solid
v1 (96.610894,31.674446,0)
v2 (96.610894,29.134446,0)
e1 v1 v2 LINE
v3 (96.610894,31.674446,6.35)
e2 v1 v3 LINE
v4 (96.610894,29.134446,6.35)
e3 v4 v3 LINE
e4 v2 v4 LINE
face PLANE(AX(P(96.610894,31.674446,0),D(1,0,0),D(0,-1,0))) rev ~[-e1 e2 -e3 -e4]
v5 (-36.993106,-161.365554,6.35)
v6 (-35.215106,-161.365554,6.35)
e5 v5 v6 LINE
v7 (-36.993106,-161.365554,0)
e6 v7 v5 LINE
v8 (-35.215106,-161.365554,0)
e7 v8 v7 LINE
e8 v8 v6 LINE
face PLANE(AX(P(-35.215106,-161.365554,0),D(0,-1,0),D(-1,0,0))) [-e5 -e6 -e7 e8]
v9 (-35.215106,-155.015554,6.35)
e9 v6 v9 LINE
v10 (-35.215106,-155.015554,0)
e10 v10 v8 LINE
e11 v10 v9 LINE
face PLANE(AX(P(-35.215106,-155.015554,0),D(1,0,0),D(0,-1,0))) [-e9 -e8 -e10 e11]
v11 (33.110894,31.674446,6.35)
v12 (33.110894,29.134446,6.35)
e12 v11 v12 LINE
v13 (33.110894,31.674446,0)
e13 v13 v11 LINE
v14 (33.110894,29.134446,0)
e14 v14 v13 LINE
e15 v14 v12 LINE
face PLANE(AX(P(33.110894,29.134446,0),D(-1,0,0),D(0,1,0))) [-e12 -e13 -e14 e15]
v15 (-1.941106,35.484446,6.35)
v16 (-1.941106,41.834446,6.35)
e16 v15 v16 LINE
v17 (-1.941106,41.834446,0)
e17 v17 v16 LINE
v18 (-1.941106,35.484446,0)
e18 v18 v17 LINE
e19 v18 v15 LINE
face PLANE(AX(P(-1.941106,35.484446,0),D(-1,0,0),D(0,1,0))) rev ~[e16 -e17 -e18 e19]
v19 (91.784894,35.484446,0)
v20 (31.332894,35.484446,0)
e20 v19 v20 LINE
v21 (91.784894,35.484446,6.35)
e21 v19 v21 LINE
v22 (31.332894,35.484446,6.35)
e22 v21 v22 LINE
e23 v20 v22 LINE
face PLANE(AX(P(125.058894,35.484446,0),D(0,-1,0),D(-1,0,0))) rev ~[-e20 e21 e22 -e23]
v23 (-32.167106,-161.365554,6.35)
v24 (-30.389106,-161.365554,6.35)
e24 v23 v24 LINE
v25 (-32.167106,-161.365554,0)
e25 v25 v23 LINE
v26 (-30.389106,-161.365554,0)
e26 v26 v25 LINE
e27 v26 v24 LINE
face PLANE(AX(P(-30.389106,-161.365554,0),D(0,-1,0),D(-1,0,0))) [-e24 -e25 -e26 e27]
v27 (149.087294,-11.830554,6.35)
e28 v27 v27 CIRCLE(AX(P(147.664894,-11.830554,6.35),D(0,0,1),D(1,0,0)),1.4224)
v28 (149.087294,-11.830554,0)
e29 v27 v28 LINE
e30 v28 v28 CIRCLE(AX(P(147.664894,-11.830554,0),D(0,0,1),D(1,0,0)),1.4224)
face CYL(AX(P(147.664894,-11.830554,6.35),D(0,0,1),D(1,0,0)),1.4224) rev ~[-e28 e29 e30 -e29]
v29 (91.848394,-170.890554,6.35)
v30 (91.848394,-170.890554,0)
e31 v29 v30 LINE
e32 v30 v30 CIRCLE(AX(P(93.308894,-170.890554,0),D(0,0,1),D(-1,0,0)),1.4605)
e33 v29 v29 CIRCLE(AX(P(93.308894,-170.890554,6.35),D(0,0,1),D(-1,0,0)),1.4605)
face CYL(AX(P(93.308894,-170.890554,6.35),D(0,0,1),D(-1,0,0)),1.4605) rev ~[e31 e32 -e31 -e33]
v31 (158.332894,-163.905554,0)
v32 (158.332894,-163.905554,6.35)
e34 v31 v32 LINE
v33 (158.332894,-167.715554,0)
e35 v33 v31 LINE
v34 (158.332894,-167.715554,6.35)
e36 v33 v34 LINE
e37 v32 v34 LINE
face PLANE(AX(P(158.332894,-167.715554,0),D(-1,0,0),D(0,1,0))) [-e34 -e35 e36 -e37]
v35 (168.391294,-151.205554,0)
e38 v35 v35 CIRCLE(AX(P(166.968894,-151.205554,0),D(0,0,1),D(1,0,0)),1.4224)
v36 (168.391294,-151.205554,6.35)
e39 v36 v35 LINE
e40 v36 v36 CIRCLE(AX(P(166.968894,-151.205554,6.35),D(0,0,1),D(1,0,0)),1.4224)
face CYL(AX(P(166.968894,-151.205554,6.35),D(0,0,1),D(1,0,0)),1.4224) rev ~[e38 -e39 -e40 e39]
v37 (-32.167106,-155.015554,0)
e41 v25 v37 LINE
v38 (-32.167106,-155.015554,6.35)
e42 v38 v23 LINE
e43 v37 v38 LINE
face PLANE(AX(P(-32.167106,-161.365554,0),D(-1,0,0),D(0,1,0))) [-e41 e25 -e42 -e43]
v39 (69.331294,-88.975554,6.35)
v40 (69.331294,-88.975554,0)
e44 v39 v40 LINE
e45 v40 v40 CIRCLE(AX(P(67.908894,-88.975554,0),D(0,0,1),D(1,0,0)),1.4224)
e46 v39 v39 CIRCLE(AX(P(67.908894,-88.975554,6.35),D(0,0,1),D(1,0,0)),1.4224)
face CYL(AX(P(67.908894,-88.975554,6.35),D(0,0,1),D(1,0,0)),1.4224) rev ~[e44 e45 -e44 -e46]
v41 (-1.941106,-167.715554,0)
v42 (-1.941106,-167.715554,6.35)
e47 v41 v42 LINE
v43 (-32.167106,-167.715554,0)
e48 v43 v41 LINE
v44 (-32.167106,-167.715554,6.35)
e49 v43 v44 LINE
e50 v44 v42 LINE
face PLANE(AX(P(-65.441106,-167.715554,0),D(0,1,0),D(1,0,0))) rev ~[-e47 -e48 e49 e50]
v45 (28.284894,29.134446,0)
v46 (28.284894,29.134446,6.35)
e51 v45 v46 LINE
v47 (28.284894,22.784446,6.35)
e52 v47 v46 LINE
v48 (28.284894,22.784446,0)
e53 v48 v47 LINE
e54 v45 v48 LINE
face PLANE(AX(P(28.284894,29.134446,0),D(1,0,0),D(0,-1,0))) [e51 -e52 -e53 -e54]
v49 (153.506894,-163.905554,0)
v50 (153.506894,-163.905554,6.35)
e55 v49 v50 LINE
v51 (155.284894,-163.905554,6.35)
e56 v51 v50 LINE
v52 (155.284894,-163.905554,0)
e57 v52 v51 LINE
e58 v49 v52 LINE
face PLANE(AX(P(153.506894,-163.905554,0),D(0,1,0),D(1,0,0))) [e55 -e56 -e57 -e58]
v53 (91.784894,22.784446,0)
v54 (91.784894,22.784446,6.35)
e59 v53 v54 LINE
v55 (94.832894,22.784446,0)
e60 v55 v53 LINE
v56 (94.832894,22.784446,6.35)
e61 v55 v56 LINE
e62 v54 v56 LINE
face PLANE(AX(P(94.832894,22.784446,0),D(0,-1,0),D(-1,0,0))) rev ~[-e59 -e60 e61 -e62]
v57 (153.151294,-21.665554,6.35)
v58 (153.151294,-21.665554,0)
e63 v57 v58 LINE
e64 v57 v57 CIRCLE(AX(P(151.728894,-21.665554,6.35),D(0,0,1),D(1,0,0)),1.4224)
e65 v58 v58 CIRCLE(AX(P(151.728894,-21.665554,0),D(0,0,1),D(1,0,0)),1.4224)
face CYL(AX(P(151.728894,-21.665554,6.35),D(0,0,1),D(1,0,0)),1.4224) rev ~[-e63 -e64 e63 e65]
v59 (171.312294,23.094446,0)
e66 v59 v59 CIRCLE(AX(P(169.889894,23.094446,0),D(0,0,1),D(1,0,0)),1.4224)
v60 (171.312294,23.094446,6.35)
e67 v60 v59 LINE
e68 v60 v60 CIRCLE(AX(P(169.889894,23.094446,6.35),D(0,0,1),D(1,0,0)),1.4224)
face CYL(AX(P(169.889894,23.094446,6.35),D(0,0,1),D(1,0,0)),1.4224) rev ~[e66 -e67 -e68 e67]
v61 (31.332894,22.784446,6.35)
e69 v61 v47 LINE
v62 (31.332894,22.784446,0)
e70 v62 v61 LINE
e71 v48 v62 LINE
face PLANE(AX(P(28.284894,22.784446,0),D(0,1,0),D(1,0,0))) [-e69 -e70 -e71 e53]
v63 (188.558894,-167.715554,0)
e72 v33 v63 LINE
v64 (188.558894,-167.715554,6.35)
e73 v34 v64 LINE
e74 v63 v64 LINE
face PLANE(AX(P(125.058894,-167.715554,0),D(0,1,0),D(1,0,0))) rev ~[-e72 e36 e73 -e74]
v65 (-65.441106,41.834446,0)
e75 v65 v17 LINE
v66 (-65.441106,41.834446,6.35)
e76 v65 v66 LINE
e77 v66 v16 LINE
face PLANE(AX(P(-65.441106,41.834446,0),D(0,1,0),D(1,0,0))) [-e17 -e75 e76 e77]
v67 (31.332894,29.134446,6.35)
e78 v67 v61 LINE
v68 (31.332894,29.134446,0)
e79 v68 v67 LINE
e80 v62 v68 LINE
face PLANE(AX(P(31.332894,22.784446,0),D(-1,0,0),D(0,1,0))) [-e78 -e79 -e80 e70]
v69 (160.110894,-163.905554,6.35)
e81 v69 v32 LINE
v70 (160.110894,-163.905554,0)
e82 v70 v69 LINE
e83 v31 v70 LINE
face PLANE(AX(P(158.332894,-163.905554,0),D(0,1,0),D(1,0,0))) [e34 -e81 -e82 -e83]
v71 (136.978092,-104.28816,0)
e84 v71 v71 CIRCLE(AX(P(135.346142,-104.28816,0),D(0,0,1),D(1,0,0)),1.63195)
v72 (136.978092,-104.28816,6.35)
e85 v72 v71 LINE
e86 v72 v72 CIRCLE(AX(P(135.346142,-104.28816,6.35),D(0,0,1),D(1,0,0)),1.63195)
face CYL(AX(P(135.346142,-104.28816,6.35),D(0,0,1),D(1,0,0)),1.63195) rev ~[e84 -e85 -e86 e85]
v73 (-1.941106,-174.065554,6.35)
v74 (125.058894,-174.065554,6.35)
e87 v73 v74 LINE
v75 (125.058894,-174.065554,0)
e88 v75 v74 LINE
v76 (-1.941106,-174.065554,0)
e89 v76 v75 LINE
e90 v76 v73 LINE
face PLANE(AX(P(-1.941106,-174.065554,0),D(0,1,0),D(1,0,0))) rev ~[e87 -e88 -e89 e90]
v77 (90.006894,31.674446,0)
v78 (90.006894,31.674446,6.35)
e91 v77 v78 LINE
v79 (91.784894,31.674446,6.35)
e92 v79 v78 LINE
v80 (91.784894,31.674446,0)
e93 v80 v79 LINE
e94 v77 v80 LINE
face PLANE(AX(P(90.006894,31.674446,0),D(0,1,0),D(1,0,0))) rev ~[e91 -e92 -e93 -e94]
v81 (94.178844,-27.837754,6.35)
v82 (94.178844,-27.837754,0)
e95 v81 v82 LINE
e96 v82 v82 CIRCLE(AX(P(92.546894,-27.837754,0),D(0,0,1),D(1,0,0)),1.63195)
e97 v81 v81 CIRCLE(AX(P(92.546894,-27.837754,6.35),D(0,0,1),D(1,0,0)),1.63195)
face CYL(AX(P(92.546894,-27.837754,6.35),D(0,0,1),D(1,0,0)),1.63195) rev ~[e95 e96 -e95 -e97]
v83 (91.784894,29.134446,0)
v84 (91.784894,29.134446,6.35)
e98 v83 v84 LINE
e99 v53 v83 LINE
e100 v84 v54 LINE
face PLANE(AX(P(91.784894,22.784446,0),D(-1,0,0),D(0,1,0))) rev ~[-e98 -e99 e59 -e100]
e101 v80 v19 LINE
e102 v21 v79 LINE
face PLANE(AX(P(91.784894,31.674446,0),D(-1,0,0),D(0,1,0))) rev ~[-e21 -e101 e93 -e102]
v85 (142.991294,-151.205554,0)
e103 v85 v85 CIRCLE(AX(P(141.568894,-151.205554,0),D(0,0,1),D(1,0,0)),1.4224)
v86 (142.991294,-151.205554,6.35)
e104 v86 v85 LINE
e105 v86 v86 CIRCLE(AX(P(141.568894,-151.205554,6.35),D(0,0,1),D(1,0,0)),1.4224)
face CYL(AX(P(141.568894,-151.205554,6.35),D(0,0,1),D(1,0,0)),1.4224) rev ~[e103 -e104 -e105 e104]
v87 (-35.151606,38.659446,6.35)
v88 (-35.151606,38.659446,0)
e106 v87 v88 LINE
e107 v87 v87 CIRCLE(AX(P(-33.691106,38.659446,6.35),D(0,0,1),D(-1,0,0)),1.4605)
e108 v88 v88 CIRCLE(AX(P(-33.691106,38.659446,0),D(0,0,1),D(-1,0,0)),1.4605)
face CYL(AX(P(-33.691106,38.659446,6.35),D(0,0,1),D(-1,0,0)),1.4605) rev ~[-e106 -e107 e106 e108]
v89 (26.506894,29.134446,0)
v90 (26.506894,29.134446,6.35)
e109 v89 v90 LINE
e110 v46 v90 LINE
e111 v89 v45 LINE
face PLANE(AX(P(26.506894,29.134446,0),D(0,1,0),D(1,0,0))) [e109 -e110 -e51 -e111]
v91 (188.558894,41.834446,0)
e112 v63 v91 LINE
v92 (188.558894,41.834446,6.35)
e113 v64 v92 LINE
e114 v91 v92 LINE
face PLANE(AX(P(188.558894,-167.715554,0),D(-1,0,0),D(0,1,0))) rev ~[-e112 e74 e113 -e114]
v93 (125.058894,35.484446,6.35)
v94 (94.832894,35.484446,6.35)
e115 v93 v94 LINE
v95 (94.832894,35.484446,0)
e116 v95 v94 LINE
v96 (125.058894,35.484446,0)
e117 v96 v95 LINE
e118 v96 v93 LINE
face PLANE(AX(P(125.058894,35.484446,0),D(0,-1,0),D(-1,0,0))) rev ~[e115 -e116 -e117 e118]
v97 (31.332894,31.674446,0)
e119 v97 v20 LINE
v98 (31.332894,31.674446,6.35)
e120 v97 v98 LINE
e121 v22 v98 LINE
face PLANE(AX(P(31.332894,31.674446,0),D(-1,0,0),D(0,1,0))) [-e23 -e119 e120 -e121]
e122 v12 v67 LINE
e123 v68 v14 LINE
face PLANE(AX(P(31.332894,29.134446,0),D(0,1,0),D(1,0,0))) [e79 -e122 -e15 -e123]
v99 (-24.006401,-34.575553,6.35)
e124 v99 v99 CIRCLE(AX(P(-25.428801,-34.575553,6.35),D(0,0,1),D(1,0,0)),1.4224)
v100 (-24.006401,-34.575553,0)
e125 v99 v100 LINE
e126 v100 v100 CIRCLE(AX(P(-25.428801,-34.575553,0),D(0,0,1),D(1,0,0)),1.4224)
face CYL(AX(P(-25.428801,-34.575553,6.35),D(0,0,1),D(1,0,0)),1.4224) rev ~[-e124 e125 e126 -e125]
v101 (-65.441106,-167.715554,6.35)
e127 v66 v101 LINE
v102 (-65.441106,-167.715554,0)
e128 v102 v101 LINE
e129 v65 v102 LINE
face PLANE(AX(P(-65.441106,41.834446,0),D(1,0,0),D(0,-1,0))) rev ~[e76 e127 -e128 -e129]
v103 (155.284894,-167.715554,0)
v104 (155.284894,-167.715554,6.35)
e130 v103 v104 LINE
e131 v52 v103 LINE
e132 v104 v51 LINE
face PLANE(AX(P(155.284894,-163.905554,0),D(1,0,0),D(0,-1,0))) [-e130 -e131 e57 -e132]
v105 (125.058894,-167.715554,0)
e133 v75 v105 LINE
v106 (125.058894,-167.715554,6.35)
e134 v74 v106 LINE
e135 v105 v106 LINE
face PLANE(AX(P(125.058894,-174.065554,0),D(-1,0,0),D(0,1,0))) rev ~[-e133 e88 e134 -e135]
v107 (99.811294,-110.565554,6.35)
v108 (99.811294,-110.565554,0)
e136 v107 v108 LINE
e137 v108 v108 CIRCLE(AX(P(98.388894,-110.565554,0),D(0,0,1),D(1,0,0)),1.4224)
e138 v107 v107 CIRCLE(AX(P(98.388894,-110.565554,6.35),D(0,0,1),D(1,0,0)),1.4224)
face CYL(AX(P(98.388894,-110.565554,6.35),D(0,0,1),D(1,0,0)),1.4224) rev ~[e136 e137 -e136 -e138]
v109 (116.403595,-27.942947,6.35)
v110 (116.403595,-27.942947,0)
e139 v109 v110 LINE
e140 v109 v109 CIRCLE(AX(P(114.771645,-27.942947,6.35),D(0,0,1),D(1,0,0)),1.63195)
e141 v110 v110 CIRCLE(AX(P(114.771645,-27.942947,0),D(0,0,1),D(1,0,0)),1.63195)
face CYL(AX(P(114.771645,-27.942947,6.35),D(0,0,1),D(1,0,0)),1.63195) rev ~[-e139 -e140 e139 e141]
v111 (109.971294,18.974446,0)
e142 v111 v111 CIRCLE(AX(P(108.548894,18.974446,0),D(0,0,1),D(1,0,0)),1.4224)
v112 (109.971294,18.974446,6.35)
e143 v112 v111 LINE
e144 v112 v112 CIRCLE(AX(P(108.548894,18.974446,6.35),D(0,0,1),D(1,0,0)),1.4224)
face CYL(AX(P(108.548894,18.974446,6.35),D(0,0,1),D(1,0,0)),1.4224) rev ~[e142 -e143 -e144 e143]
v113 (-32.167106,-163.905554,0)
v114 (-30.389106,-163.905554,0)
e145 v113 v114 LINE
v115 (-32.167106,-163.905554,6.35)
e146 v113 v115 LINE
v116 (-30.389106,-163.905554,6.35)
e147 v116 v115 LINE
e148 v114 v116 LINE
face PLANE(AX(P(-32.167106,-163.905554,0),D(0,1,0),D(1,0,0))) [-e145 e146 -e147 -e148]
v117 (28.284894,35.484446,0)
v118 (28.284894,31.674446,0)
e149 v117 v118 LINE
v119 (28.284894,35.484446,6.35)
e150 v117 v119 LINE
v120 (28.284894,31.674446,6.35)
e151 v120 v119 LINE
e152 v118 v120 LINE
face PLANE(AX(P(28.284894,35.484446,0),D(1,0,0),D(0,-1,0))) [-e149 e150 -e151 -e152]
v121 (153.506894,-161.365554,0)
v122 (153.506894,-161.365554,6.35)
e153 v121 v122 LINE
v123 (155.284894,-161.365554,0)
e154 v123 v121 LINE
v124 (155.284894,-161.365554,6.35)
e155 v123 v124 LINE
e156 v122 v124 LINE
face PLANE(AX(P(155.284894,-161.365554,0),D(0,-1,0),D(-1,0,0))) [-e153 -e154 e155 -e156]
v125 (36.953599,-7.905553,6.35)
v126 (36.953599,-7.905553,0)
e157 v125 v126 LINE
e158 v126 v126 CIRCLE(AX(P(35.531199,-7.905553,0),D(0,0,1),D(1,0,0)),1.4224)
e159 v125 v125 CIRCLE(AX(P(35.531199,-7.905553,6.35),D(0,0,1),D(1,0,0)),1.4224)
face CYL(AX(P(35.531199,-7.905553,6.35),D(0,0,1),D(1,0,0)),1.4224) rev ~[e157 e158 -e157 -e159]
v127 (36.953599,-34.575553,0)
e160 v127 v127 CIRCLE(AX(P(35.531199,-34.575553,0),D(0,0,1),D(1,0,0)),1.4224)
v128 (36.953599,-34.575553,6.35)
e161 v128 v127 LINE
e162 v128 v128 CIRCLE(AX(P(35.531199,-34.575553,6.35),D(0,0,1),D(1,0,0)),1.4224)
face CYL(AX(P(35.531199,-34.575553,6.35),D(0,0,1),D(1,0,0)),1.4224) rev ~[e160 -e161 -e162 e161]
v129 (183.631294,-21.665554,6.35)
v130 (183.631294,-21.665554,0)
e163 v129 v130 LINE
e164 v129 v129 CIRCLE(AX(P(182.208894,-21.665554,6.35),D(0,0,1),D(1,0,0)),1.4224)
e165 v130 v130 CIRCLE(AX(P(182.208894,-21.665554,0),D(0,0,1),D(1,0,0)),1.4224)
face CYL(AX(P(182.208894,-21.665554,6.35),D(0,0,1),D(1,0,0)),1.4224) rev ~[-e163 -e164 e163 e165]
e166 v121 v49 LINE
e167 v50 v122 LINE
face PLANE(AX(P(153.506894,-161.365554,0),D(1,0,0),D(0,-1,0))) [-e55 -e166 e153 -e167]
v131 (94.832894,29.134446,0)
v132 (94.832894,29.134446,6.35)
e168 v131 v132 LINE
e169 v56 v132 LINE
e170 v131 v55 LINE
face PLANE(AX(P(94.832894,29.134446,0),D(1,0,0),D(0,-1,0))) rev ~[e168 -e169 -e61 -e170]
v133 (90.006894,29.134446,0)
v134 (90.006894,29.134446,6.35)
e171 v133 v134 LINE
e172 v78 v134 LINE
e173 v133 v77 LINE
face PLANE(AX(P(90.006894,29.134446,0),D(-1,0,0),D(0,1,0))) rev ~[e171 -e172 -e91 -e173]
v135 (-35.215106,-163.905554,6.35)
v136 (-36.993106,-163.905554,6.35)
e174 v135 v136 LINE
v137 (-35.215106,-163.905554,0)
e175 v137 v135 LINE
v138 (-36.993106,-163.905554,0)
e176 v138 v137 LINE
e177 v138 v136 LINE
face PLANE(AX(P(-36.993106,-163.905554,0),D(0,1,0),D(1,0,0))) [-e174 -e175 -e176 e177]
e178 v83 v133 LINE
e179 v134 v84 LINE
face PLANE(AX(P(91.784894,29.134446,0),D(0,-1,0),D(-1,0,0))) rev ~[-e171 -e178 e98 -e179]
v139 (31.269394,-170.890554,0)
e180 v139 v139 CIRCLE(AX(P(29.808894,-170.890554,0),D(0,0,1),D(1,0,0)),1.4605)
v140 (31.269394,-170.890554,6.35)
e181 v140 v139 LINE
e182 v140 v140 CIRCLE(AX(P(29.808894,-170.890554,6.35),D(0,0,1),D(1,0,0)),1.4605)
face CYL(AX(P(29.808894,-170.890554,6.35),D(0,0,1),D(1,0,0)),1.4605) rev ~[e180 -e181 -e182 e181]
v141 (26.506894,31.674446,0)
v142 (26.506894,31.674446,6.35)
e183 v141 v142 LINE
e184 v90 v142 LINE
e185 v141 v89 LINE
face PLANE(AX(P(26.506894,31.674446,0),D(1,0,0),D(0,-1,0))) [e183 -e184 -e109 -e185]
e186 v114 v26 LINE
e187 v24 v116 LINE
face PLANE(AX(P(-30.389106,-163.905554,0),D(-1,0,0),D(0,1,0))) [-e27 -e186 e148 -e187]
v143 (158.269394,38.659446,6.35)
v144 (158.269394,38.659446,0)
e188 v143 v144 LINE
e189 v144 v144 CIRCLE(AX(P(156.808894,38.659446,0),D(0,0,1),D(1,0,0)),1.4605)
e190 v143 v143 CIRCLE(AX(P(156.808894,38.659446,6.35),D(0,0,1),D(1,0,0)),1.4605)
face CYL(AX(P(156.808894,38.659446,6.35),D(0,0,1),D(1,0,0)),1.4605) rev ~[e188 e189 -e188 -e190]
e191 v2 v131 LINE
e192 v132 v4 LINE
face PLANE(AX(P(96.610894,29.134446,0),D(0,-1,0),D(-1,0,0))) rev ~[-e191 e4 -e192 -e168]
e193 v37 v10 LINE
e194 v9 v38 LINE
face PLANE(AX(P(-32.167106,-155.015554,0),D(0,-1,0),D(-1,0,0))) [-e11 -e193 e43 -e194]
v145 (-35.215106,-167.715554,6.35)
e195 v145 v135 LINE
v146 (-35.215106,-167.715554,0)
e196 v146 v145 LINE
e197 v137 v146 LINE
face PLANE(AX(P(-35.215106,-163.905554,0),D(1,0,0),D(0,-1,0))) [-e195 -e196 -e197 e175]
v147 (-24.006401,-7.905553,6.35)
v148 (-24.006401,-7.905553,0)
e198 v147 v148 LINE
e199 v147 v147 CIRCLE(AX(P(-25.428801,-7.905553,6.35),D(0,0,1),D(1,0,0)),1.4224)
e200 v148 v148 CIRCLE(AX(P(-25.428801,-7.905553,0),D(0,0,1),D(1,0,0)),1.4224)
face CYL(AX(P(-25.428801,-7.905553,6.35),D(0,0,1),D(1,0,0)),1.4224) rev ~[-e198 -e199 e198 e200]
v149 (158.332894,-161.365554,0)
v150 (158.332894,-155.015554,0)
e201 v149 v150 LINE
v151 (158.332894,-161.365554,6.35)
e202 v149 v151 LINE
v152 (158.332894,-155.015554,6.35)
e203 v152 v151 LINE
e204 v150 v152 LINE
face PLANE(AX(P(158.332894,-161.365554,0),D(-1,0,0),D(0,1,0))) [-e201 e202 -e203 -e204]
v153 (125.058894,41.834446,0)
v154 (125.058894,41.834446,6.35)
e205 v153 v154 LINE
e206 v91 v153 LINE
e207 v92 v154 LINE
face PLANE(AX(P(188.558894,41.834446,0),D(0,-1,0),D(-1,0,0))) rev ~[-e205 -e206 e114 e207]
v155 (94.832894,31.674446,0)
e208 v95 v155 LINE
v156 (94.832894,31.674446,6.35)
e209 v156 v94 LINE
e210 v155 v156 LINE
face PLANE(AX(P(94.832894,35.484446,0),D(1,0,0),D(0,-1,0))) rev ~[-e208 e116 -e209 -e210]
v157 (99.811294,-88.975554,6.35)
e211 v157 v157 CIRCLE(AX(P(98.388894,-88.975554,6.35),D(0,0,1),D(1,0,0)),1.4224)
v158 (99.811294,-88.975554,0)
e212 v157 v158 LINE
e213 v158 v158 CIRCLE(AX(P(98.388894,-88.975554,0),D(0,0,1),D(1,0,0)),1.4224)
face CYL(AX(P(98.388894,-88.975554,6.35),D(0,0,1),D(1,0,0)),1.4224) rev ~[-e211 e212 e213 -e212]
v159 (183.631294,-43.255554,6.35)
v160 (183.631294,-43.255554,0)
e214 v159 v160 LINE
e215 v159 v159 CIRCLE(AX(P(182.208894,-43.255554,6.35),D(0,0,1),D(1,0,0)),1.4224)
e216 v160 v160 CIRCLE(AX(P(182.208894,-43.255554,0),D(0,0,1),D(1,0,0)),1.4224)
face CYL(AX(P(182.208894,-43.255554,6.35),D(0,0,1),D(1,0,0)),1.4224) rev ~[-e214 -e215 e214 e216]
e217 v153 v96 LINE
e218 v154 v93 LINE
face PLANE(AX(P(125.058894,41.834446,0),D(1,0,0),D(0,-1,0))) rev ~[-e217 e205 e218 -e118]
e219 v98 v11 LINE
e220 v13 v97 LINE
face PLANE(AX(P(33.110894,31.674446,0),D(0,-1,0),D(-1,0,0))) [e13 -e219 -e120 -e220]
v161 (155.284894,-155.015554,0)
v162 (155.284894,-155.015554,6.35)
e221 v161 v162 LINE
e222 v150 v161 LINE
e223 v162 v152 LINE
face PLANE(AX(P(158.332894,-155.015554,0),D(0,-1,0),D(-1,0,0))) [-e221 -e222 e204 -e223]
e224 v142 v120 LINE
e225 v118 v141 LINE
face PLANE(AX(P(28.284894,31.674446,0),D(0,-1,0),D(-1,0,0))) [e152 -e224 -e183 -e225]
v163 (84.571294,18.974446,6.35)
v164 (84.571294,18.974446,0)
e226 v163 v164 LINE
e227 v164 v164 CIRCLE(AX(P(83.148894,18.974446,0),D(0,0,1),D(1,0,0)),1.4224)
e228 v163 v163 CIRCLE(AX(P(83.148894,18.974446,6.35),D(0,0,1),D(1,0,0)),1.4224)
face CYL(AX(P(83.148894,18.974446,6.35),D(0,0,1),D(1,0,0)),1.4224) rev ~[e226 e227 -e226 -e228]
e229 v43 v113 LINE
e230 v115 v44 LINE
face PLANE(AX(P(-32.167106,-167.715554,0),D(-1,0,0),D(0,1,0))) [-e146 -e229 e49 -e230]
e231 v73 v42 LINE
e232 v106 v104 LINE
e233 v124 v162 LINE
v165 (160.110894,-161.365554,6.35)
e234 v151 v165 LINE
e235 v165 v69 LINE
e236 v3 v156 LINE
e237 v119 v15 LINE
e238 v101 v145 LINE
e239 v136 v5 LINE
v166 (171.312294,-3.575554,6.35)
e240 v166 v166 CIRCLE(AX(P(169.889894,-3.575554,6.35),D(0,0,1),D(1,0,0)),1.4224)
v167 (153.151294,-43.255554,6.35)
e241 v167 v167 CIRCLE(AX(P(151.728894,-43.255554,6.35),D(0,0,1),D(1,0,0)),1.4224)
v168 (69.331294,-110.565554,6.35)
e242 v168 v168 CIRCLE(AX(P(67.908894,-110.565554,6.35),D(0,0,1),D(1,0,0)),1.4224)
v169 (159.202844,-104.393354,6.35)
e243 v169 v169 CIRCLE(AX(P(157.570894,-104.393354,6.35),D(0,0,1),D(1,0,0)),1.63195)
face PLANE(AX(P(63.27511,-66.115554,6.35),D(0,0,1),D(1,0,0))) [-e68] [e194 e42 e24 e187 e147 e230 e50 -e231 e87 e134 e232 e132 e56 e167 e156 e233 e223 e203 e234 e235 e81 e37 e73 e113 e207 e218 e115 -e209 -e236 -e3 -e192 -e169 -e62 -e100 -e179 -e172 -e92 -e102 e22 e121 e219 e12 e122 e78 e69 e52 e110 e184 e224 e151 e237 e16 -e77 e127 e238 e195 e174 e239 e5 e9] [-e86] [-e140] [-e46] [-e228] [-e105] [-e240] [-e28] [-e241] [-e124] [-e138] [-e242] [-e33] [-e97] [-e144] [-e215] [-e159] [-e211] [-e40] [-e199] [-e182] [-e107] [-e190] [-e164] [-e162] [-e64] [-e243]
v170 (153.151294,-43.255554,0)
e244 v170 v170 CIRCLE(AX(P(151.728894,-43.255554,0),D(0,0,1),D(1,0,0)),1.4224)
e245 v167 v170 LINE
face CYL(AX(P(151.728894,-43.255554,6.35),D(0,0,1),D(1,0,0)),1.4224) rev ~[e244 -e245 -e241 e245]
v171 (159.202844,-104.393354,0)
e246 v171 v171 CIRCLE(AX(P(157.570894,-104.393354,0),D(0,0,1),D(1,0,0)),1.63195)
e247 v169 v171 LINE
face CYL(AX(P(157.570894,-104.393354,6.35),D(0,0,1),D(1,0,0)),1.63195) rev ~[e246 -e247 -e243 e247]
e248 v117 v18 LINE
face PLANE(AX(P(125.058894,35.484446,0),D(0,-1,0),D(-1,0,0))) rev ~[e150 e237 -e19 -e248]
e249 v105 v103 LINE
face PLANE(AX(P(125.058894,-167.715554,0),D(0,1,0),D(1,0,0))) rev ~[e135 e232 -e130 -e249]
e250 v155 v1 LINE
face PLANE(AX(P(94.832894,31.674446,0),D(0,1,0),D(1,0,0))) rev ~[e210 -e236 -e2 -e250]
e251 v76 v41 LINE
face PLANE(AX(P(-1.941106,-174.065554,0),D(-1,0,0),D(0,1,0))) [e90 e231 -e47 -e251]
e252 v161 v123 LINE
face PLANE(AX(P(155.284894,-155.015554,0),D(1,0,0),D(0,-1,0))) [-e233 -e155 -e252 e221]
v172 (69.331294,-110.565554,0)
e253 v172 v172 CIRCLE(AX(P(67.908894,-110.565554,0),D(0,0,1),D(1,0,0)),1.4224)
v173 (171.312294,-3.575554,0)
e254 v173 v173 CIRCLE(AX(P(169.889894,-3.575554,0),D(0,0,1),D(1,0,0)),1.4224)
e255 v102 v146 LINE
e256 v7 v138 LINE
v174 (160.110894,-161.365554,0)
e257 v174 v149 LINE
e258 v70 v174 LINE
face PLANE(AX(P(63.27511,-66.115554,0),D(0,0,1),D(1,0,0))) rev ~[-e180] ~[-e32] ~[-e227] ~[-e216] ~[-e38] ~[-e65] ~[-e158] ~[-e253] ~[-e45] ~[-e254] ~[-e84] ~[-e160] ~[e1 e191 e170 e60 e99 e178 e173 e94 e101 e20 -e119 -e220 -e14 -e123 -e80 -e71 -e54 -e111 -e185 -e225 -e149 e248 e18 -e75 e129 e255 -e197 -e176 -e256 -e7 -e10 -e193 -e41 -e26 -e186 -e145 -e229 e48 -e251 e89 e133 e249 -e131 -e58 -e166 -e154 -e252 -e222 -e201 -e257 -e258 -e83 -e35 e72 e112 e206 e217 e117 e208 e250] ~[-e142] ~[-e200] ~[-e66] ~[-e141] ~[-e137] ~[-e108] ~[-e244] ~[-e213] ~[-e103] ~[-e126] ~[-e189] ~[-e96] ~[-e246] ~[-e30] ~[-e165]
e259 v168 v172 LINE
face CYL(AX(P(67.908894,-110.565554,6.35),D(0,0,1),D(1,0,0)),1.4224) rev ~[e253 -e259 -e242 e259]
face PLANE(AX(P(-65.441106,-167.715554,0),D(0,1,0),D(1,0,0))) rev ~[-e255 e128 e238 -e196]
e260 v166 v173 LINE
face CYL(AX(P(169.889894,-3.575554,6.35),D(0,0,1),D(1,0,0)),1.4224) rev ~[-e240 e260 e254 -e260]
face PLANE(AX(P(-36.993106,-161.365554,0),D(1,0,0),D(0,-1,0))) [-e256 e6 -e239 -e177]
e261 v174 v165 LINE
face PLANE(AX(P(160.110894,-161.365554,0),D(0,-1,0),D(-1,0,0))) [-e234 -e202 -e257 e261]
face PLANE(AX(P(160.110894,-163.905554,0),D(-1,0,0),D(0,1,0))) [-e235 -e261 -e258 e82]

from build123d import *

# Parameters (mm, degrees)
SKETCH1_W           = 63.5
SKETCH1_H           = 6.35
BOSS_EXTRUDE1_DEPTH = 6.35
SKETCH7_R           = 1.4224
SKETCH7_R_2         = 1.63195
CUT_EXTRUDE4_DEPTH  = 257.697479146
SKETCH3_R           = 1.4605
CUT_EXTRUDE5_DEPTH  = 257.697479146
CUT_EXTRUDE6_DEPTH  = 257.697479146
SKETCH10_R          = 1.4224
CUT_EXTRUDE7_DEPTH  = 257.697479146
SKETCH11_R          = 1.4224
CUT_EXTRUDE8_DEPTH  = 257.697479146


with BuildPart() as part:
    # Sketch1 → Boss-Extrude1 (new body)
    with BuildSketch(Plane.XY):
        Polygon((-1.941106456, 35.484446355), (-65.441106456, 35.484446355), (-65.441106456, -167.715553645), (-1.941106456, -167.715553645), (61.558893544, -167.715553645), (61.558893544, -174.065553645), (125.058893544, -174.065553645), (125.058893544, -167.715553645), (188.558893544, -167.715553645), (188.558893544, 41.834446355), (125.058893544, 41.834446355), (125.058893544, 35.484446355), align=None)
        with Locations((-33.691106456, 38.659446355)):
            Rectangle(SKETCH1_W, SKETCH1_H)
        with Locations((29.808893544, -170.890553645)):
            Rectangle(SKETCH1_W, SKETCH1_H)
    extrude(amount=BOSS_EXTRUDE1_DEPTH)

    # Sketch7 → Cut-Extrude4 (cut, through all)
    with BuildSketch(Plane.XY.offset(6.35)):
        with Locations((108.548893544, 18.974446355)):
            Circle(SKETCH7_R)
        with Locations((83.148893544, 18.974446355)):
            Circle(SKETCH7_R)
        with Locations((92.546893544, -27.837753645)):
            Circle(SKETCH7_R_2)
        with Locations((114.771644595, -27.942947347)):
            Circle(SKETCH7_R_2)
        with Locations((67.908893544, -88.975553645)):
            Circle(SKETCH7_R)
        with Locations((98.388893544, -88.975553645)):
            Circle(SKETCH7_R)
        with Locations((98.388893544, -110.565553645)):
            Circle(SKETCH7_R)
        with Locations((67.908893544, -110.565553645)):
            Circle(SKETCH7_R)
        with Locations((141.568893544, -151.205553645)):
            Circle(SKETCH7_R)
        with Locations((166.968893544, -151.205553645)):
            Circle(SKETCH7_R)
        with Locations((135.346142493, -104.288159943)):
            Circle(SKETCH7_R_2)
        with Locations((157.570893544, -104.393353645)):
            Circle(SKETCH7_R_2)
        with Locations((151.728893544, -43.255553645)):
            Circle(SKETCH7_R)
        with Locations((151.728893544, -21.665553645)):
            Circle(SKETCH7_R)
        with Locations((182.208893544, -43.255553645)):
            Circle(SKETCH7_R)
        with Locations((182.208893544, -21.665553645)):
            Circle(SKETCH7_R)
    extrude(amount=-CUT_EXTRUDE4_DEPTH, mode=Mode.SUBTRACT)

    # Sketch3 → Cut-Extrude5 (cut, through all)
    with BuildSketch(Plane.XY.offset(6.35)):
        with Locations((156.808893544, 38.659446355)):
            Circle(SKETCH3_R)
        with Locations((29.808893544, -170.890553645)):
            Circle(SKETCH3_R)
        with Locations(Location((93.308893544, -170.890553645, 0), (0, 0, 180))):
            Circle(SKETCH3_R)
        with Locations(Location((-33.691106456, 38.659446355, 0), (0, 0, 180))):
            Circle(SKETCH3_R)
    extrude(amount=-CUT_EXTRUDE5_DEPTH, mode=Mode.SUBTRACT)

    # Sketch8 → Cut-Extrude6 (cut, through all)
    with BuildSketch(Plane(origin=(0, 0, 0), x_dir=(-1, 0, 0), z_dir=(0, 0, -1))):
        Polygon((-91.784893544, 35.484446355), (-94.832893544, 35.484446355), (-94.832893544, 31.674446355), (-96.610893544, 31.674446355), (-96.610893544, 29.134446355), (-94.832893544, 29.134446355), (-94.832893544, 22.784446355), (-91.784893544, 22.784446355), (-91.784893544, 29.134446355), (-90.006893544, 29.134446355), (-90.006893544, 31.674446355), (-91.784893544, 31.674446355), align=None)
        Polygon((-155.284893544, -167.715553645), (-158.332893544, -167.715553645), (-158.332893544, -163.905553645), (-160.110893544, -163.905553645), (-160.110893544, -161.365553645), (-158.332893544, -161.365553645), (-158.332893544, -155.015553645), (-155.284893544, -155.015553645), (-155.284893544, -161.365553645), (-153.506893544, -161.365553645), (-153.506893544, -163.905553645), (-155.284893544, -163.905553645), align=None)
        Polygon((-31.332893544, 35.484446355), (-28.284893544, 35.484446355), (-28.284893544, 31.674446355), (-26.506893544, 31.674446355), (-26.506893544, 29.134446355), (-28.284893544, 29.134446355), (-28.284893544, 22.784446355), (-31.332893544, 22.784446355), (-31.332893544, 29.134446355), (-33.110893544, 29.134446355), (-33.110893544, 31.674446355), (-31.332893544, 31.674446355), align=None)
        Polygon((32.167106456, -167.715553645), (32.167106456, -163.905553645), (30.389106456, -163.905553645), (30.389106456, -161.365553645), (32.167106456, -161.365553645), (32.167106456, -155.015553645), (35.215106456, -155.015553645), (35.215106456, -161.365553645), (36.993106456, -161.365553645), (36.993106456, -163.905553645), (35.215106456, -163.905553645), (35.215106456, -167.715553645), align=None)
    extrude(amount=-CUT_EXTRUDE6_DEPTH, mode=Mode.SUBTRACT)

    # Sketch10 → Cut-Extrude7 (cut, through all)
    with BuildSketch(Plane.XY.offset(6.35)):
        with Locations((169.889893544, -3.575553701)):
            Circle(SKETCH10_R)
        with Locations((169.889893544, 23.094446299)):
            Circle(SKETCH10_R)
        with Locations((147.664893544, -11.830553701)):
            Circle(SKETCH10_R)
    extrude(amount=-CUT_EXTRUDE7_DEPTH, mode=Mode.SUBTRACT)

    # Sketch11 → Cut-Extrude8 (cut, through all)
    with BuildSketch(Plane.XY.offset(6.35)):
        with Locations((-25.428800612, -7.905553469)):
            Circle(SKETCH11_R)
        with Locations((-25.428800612, -34.575553469)):
            Circle(SKETCH11_R)
        with Locations((35.531199388, -34.575553469)):
            Circle(SKETCH11_R)
        with Locations((35.531199388, -7.905553469)):
            Circle(SKETCH11_R)
    extrude(amount=-CUT_EXTRUDE8_DEPTH, mode=Mode.SUBTRACT)


solid = part.part
